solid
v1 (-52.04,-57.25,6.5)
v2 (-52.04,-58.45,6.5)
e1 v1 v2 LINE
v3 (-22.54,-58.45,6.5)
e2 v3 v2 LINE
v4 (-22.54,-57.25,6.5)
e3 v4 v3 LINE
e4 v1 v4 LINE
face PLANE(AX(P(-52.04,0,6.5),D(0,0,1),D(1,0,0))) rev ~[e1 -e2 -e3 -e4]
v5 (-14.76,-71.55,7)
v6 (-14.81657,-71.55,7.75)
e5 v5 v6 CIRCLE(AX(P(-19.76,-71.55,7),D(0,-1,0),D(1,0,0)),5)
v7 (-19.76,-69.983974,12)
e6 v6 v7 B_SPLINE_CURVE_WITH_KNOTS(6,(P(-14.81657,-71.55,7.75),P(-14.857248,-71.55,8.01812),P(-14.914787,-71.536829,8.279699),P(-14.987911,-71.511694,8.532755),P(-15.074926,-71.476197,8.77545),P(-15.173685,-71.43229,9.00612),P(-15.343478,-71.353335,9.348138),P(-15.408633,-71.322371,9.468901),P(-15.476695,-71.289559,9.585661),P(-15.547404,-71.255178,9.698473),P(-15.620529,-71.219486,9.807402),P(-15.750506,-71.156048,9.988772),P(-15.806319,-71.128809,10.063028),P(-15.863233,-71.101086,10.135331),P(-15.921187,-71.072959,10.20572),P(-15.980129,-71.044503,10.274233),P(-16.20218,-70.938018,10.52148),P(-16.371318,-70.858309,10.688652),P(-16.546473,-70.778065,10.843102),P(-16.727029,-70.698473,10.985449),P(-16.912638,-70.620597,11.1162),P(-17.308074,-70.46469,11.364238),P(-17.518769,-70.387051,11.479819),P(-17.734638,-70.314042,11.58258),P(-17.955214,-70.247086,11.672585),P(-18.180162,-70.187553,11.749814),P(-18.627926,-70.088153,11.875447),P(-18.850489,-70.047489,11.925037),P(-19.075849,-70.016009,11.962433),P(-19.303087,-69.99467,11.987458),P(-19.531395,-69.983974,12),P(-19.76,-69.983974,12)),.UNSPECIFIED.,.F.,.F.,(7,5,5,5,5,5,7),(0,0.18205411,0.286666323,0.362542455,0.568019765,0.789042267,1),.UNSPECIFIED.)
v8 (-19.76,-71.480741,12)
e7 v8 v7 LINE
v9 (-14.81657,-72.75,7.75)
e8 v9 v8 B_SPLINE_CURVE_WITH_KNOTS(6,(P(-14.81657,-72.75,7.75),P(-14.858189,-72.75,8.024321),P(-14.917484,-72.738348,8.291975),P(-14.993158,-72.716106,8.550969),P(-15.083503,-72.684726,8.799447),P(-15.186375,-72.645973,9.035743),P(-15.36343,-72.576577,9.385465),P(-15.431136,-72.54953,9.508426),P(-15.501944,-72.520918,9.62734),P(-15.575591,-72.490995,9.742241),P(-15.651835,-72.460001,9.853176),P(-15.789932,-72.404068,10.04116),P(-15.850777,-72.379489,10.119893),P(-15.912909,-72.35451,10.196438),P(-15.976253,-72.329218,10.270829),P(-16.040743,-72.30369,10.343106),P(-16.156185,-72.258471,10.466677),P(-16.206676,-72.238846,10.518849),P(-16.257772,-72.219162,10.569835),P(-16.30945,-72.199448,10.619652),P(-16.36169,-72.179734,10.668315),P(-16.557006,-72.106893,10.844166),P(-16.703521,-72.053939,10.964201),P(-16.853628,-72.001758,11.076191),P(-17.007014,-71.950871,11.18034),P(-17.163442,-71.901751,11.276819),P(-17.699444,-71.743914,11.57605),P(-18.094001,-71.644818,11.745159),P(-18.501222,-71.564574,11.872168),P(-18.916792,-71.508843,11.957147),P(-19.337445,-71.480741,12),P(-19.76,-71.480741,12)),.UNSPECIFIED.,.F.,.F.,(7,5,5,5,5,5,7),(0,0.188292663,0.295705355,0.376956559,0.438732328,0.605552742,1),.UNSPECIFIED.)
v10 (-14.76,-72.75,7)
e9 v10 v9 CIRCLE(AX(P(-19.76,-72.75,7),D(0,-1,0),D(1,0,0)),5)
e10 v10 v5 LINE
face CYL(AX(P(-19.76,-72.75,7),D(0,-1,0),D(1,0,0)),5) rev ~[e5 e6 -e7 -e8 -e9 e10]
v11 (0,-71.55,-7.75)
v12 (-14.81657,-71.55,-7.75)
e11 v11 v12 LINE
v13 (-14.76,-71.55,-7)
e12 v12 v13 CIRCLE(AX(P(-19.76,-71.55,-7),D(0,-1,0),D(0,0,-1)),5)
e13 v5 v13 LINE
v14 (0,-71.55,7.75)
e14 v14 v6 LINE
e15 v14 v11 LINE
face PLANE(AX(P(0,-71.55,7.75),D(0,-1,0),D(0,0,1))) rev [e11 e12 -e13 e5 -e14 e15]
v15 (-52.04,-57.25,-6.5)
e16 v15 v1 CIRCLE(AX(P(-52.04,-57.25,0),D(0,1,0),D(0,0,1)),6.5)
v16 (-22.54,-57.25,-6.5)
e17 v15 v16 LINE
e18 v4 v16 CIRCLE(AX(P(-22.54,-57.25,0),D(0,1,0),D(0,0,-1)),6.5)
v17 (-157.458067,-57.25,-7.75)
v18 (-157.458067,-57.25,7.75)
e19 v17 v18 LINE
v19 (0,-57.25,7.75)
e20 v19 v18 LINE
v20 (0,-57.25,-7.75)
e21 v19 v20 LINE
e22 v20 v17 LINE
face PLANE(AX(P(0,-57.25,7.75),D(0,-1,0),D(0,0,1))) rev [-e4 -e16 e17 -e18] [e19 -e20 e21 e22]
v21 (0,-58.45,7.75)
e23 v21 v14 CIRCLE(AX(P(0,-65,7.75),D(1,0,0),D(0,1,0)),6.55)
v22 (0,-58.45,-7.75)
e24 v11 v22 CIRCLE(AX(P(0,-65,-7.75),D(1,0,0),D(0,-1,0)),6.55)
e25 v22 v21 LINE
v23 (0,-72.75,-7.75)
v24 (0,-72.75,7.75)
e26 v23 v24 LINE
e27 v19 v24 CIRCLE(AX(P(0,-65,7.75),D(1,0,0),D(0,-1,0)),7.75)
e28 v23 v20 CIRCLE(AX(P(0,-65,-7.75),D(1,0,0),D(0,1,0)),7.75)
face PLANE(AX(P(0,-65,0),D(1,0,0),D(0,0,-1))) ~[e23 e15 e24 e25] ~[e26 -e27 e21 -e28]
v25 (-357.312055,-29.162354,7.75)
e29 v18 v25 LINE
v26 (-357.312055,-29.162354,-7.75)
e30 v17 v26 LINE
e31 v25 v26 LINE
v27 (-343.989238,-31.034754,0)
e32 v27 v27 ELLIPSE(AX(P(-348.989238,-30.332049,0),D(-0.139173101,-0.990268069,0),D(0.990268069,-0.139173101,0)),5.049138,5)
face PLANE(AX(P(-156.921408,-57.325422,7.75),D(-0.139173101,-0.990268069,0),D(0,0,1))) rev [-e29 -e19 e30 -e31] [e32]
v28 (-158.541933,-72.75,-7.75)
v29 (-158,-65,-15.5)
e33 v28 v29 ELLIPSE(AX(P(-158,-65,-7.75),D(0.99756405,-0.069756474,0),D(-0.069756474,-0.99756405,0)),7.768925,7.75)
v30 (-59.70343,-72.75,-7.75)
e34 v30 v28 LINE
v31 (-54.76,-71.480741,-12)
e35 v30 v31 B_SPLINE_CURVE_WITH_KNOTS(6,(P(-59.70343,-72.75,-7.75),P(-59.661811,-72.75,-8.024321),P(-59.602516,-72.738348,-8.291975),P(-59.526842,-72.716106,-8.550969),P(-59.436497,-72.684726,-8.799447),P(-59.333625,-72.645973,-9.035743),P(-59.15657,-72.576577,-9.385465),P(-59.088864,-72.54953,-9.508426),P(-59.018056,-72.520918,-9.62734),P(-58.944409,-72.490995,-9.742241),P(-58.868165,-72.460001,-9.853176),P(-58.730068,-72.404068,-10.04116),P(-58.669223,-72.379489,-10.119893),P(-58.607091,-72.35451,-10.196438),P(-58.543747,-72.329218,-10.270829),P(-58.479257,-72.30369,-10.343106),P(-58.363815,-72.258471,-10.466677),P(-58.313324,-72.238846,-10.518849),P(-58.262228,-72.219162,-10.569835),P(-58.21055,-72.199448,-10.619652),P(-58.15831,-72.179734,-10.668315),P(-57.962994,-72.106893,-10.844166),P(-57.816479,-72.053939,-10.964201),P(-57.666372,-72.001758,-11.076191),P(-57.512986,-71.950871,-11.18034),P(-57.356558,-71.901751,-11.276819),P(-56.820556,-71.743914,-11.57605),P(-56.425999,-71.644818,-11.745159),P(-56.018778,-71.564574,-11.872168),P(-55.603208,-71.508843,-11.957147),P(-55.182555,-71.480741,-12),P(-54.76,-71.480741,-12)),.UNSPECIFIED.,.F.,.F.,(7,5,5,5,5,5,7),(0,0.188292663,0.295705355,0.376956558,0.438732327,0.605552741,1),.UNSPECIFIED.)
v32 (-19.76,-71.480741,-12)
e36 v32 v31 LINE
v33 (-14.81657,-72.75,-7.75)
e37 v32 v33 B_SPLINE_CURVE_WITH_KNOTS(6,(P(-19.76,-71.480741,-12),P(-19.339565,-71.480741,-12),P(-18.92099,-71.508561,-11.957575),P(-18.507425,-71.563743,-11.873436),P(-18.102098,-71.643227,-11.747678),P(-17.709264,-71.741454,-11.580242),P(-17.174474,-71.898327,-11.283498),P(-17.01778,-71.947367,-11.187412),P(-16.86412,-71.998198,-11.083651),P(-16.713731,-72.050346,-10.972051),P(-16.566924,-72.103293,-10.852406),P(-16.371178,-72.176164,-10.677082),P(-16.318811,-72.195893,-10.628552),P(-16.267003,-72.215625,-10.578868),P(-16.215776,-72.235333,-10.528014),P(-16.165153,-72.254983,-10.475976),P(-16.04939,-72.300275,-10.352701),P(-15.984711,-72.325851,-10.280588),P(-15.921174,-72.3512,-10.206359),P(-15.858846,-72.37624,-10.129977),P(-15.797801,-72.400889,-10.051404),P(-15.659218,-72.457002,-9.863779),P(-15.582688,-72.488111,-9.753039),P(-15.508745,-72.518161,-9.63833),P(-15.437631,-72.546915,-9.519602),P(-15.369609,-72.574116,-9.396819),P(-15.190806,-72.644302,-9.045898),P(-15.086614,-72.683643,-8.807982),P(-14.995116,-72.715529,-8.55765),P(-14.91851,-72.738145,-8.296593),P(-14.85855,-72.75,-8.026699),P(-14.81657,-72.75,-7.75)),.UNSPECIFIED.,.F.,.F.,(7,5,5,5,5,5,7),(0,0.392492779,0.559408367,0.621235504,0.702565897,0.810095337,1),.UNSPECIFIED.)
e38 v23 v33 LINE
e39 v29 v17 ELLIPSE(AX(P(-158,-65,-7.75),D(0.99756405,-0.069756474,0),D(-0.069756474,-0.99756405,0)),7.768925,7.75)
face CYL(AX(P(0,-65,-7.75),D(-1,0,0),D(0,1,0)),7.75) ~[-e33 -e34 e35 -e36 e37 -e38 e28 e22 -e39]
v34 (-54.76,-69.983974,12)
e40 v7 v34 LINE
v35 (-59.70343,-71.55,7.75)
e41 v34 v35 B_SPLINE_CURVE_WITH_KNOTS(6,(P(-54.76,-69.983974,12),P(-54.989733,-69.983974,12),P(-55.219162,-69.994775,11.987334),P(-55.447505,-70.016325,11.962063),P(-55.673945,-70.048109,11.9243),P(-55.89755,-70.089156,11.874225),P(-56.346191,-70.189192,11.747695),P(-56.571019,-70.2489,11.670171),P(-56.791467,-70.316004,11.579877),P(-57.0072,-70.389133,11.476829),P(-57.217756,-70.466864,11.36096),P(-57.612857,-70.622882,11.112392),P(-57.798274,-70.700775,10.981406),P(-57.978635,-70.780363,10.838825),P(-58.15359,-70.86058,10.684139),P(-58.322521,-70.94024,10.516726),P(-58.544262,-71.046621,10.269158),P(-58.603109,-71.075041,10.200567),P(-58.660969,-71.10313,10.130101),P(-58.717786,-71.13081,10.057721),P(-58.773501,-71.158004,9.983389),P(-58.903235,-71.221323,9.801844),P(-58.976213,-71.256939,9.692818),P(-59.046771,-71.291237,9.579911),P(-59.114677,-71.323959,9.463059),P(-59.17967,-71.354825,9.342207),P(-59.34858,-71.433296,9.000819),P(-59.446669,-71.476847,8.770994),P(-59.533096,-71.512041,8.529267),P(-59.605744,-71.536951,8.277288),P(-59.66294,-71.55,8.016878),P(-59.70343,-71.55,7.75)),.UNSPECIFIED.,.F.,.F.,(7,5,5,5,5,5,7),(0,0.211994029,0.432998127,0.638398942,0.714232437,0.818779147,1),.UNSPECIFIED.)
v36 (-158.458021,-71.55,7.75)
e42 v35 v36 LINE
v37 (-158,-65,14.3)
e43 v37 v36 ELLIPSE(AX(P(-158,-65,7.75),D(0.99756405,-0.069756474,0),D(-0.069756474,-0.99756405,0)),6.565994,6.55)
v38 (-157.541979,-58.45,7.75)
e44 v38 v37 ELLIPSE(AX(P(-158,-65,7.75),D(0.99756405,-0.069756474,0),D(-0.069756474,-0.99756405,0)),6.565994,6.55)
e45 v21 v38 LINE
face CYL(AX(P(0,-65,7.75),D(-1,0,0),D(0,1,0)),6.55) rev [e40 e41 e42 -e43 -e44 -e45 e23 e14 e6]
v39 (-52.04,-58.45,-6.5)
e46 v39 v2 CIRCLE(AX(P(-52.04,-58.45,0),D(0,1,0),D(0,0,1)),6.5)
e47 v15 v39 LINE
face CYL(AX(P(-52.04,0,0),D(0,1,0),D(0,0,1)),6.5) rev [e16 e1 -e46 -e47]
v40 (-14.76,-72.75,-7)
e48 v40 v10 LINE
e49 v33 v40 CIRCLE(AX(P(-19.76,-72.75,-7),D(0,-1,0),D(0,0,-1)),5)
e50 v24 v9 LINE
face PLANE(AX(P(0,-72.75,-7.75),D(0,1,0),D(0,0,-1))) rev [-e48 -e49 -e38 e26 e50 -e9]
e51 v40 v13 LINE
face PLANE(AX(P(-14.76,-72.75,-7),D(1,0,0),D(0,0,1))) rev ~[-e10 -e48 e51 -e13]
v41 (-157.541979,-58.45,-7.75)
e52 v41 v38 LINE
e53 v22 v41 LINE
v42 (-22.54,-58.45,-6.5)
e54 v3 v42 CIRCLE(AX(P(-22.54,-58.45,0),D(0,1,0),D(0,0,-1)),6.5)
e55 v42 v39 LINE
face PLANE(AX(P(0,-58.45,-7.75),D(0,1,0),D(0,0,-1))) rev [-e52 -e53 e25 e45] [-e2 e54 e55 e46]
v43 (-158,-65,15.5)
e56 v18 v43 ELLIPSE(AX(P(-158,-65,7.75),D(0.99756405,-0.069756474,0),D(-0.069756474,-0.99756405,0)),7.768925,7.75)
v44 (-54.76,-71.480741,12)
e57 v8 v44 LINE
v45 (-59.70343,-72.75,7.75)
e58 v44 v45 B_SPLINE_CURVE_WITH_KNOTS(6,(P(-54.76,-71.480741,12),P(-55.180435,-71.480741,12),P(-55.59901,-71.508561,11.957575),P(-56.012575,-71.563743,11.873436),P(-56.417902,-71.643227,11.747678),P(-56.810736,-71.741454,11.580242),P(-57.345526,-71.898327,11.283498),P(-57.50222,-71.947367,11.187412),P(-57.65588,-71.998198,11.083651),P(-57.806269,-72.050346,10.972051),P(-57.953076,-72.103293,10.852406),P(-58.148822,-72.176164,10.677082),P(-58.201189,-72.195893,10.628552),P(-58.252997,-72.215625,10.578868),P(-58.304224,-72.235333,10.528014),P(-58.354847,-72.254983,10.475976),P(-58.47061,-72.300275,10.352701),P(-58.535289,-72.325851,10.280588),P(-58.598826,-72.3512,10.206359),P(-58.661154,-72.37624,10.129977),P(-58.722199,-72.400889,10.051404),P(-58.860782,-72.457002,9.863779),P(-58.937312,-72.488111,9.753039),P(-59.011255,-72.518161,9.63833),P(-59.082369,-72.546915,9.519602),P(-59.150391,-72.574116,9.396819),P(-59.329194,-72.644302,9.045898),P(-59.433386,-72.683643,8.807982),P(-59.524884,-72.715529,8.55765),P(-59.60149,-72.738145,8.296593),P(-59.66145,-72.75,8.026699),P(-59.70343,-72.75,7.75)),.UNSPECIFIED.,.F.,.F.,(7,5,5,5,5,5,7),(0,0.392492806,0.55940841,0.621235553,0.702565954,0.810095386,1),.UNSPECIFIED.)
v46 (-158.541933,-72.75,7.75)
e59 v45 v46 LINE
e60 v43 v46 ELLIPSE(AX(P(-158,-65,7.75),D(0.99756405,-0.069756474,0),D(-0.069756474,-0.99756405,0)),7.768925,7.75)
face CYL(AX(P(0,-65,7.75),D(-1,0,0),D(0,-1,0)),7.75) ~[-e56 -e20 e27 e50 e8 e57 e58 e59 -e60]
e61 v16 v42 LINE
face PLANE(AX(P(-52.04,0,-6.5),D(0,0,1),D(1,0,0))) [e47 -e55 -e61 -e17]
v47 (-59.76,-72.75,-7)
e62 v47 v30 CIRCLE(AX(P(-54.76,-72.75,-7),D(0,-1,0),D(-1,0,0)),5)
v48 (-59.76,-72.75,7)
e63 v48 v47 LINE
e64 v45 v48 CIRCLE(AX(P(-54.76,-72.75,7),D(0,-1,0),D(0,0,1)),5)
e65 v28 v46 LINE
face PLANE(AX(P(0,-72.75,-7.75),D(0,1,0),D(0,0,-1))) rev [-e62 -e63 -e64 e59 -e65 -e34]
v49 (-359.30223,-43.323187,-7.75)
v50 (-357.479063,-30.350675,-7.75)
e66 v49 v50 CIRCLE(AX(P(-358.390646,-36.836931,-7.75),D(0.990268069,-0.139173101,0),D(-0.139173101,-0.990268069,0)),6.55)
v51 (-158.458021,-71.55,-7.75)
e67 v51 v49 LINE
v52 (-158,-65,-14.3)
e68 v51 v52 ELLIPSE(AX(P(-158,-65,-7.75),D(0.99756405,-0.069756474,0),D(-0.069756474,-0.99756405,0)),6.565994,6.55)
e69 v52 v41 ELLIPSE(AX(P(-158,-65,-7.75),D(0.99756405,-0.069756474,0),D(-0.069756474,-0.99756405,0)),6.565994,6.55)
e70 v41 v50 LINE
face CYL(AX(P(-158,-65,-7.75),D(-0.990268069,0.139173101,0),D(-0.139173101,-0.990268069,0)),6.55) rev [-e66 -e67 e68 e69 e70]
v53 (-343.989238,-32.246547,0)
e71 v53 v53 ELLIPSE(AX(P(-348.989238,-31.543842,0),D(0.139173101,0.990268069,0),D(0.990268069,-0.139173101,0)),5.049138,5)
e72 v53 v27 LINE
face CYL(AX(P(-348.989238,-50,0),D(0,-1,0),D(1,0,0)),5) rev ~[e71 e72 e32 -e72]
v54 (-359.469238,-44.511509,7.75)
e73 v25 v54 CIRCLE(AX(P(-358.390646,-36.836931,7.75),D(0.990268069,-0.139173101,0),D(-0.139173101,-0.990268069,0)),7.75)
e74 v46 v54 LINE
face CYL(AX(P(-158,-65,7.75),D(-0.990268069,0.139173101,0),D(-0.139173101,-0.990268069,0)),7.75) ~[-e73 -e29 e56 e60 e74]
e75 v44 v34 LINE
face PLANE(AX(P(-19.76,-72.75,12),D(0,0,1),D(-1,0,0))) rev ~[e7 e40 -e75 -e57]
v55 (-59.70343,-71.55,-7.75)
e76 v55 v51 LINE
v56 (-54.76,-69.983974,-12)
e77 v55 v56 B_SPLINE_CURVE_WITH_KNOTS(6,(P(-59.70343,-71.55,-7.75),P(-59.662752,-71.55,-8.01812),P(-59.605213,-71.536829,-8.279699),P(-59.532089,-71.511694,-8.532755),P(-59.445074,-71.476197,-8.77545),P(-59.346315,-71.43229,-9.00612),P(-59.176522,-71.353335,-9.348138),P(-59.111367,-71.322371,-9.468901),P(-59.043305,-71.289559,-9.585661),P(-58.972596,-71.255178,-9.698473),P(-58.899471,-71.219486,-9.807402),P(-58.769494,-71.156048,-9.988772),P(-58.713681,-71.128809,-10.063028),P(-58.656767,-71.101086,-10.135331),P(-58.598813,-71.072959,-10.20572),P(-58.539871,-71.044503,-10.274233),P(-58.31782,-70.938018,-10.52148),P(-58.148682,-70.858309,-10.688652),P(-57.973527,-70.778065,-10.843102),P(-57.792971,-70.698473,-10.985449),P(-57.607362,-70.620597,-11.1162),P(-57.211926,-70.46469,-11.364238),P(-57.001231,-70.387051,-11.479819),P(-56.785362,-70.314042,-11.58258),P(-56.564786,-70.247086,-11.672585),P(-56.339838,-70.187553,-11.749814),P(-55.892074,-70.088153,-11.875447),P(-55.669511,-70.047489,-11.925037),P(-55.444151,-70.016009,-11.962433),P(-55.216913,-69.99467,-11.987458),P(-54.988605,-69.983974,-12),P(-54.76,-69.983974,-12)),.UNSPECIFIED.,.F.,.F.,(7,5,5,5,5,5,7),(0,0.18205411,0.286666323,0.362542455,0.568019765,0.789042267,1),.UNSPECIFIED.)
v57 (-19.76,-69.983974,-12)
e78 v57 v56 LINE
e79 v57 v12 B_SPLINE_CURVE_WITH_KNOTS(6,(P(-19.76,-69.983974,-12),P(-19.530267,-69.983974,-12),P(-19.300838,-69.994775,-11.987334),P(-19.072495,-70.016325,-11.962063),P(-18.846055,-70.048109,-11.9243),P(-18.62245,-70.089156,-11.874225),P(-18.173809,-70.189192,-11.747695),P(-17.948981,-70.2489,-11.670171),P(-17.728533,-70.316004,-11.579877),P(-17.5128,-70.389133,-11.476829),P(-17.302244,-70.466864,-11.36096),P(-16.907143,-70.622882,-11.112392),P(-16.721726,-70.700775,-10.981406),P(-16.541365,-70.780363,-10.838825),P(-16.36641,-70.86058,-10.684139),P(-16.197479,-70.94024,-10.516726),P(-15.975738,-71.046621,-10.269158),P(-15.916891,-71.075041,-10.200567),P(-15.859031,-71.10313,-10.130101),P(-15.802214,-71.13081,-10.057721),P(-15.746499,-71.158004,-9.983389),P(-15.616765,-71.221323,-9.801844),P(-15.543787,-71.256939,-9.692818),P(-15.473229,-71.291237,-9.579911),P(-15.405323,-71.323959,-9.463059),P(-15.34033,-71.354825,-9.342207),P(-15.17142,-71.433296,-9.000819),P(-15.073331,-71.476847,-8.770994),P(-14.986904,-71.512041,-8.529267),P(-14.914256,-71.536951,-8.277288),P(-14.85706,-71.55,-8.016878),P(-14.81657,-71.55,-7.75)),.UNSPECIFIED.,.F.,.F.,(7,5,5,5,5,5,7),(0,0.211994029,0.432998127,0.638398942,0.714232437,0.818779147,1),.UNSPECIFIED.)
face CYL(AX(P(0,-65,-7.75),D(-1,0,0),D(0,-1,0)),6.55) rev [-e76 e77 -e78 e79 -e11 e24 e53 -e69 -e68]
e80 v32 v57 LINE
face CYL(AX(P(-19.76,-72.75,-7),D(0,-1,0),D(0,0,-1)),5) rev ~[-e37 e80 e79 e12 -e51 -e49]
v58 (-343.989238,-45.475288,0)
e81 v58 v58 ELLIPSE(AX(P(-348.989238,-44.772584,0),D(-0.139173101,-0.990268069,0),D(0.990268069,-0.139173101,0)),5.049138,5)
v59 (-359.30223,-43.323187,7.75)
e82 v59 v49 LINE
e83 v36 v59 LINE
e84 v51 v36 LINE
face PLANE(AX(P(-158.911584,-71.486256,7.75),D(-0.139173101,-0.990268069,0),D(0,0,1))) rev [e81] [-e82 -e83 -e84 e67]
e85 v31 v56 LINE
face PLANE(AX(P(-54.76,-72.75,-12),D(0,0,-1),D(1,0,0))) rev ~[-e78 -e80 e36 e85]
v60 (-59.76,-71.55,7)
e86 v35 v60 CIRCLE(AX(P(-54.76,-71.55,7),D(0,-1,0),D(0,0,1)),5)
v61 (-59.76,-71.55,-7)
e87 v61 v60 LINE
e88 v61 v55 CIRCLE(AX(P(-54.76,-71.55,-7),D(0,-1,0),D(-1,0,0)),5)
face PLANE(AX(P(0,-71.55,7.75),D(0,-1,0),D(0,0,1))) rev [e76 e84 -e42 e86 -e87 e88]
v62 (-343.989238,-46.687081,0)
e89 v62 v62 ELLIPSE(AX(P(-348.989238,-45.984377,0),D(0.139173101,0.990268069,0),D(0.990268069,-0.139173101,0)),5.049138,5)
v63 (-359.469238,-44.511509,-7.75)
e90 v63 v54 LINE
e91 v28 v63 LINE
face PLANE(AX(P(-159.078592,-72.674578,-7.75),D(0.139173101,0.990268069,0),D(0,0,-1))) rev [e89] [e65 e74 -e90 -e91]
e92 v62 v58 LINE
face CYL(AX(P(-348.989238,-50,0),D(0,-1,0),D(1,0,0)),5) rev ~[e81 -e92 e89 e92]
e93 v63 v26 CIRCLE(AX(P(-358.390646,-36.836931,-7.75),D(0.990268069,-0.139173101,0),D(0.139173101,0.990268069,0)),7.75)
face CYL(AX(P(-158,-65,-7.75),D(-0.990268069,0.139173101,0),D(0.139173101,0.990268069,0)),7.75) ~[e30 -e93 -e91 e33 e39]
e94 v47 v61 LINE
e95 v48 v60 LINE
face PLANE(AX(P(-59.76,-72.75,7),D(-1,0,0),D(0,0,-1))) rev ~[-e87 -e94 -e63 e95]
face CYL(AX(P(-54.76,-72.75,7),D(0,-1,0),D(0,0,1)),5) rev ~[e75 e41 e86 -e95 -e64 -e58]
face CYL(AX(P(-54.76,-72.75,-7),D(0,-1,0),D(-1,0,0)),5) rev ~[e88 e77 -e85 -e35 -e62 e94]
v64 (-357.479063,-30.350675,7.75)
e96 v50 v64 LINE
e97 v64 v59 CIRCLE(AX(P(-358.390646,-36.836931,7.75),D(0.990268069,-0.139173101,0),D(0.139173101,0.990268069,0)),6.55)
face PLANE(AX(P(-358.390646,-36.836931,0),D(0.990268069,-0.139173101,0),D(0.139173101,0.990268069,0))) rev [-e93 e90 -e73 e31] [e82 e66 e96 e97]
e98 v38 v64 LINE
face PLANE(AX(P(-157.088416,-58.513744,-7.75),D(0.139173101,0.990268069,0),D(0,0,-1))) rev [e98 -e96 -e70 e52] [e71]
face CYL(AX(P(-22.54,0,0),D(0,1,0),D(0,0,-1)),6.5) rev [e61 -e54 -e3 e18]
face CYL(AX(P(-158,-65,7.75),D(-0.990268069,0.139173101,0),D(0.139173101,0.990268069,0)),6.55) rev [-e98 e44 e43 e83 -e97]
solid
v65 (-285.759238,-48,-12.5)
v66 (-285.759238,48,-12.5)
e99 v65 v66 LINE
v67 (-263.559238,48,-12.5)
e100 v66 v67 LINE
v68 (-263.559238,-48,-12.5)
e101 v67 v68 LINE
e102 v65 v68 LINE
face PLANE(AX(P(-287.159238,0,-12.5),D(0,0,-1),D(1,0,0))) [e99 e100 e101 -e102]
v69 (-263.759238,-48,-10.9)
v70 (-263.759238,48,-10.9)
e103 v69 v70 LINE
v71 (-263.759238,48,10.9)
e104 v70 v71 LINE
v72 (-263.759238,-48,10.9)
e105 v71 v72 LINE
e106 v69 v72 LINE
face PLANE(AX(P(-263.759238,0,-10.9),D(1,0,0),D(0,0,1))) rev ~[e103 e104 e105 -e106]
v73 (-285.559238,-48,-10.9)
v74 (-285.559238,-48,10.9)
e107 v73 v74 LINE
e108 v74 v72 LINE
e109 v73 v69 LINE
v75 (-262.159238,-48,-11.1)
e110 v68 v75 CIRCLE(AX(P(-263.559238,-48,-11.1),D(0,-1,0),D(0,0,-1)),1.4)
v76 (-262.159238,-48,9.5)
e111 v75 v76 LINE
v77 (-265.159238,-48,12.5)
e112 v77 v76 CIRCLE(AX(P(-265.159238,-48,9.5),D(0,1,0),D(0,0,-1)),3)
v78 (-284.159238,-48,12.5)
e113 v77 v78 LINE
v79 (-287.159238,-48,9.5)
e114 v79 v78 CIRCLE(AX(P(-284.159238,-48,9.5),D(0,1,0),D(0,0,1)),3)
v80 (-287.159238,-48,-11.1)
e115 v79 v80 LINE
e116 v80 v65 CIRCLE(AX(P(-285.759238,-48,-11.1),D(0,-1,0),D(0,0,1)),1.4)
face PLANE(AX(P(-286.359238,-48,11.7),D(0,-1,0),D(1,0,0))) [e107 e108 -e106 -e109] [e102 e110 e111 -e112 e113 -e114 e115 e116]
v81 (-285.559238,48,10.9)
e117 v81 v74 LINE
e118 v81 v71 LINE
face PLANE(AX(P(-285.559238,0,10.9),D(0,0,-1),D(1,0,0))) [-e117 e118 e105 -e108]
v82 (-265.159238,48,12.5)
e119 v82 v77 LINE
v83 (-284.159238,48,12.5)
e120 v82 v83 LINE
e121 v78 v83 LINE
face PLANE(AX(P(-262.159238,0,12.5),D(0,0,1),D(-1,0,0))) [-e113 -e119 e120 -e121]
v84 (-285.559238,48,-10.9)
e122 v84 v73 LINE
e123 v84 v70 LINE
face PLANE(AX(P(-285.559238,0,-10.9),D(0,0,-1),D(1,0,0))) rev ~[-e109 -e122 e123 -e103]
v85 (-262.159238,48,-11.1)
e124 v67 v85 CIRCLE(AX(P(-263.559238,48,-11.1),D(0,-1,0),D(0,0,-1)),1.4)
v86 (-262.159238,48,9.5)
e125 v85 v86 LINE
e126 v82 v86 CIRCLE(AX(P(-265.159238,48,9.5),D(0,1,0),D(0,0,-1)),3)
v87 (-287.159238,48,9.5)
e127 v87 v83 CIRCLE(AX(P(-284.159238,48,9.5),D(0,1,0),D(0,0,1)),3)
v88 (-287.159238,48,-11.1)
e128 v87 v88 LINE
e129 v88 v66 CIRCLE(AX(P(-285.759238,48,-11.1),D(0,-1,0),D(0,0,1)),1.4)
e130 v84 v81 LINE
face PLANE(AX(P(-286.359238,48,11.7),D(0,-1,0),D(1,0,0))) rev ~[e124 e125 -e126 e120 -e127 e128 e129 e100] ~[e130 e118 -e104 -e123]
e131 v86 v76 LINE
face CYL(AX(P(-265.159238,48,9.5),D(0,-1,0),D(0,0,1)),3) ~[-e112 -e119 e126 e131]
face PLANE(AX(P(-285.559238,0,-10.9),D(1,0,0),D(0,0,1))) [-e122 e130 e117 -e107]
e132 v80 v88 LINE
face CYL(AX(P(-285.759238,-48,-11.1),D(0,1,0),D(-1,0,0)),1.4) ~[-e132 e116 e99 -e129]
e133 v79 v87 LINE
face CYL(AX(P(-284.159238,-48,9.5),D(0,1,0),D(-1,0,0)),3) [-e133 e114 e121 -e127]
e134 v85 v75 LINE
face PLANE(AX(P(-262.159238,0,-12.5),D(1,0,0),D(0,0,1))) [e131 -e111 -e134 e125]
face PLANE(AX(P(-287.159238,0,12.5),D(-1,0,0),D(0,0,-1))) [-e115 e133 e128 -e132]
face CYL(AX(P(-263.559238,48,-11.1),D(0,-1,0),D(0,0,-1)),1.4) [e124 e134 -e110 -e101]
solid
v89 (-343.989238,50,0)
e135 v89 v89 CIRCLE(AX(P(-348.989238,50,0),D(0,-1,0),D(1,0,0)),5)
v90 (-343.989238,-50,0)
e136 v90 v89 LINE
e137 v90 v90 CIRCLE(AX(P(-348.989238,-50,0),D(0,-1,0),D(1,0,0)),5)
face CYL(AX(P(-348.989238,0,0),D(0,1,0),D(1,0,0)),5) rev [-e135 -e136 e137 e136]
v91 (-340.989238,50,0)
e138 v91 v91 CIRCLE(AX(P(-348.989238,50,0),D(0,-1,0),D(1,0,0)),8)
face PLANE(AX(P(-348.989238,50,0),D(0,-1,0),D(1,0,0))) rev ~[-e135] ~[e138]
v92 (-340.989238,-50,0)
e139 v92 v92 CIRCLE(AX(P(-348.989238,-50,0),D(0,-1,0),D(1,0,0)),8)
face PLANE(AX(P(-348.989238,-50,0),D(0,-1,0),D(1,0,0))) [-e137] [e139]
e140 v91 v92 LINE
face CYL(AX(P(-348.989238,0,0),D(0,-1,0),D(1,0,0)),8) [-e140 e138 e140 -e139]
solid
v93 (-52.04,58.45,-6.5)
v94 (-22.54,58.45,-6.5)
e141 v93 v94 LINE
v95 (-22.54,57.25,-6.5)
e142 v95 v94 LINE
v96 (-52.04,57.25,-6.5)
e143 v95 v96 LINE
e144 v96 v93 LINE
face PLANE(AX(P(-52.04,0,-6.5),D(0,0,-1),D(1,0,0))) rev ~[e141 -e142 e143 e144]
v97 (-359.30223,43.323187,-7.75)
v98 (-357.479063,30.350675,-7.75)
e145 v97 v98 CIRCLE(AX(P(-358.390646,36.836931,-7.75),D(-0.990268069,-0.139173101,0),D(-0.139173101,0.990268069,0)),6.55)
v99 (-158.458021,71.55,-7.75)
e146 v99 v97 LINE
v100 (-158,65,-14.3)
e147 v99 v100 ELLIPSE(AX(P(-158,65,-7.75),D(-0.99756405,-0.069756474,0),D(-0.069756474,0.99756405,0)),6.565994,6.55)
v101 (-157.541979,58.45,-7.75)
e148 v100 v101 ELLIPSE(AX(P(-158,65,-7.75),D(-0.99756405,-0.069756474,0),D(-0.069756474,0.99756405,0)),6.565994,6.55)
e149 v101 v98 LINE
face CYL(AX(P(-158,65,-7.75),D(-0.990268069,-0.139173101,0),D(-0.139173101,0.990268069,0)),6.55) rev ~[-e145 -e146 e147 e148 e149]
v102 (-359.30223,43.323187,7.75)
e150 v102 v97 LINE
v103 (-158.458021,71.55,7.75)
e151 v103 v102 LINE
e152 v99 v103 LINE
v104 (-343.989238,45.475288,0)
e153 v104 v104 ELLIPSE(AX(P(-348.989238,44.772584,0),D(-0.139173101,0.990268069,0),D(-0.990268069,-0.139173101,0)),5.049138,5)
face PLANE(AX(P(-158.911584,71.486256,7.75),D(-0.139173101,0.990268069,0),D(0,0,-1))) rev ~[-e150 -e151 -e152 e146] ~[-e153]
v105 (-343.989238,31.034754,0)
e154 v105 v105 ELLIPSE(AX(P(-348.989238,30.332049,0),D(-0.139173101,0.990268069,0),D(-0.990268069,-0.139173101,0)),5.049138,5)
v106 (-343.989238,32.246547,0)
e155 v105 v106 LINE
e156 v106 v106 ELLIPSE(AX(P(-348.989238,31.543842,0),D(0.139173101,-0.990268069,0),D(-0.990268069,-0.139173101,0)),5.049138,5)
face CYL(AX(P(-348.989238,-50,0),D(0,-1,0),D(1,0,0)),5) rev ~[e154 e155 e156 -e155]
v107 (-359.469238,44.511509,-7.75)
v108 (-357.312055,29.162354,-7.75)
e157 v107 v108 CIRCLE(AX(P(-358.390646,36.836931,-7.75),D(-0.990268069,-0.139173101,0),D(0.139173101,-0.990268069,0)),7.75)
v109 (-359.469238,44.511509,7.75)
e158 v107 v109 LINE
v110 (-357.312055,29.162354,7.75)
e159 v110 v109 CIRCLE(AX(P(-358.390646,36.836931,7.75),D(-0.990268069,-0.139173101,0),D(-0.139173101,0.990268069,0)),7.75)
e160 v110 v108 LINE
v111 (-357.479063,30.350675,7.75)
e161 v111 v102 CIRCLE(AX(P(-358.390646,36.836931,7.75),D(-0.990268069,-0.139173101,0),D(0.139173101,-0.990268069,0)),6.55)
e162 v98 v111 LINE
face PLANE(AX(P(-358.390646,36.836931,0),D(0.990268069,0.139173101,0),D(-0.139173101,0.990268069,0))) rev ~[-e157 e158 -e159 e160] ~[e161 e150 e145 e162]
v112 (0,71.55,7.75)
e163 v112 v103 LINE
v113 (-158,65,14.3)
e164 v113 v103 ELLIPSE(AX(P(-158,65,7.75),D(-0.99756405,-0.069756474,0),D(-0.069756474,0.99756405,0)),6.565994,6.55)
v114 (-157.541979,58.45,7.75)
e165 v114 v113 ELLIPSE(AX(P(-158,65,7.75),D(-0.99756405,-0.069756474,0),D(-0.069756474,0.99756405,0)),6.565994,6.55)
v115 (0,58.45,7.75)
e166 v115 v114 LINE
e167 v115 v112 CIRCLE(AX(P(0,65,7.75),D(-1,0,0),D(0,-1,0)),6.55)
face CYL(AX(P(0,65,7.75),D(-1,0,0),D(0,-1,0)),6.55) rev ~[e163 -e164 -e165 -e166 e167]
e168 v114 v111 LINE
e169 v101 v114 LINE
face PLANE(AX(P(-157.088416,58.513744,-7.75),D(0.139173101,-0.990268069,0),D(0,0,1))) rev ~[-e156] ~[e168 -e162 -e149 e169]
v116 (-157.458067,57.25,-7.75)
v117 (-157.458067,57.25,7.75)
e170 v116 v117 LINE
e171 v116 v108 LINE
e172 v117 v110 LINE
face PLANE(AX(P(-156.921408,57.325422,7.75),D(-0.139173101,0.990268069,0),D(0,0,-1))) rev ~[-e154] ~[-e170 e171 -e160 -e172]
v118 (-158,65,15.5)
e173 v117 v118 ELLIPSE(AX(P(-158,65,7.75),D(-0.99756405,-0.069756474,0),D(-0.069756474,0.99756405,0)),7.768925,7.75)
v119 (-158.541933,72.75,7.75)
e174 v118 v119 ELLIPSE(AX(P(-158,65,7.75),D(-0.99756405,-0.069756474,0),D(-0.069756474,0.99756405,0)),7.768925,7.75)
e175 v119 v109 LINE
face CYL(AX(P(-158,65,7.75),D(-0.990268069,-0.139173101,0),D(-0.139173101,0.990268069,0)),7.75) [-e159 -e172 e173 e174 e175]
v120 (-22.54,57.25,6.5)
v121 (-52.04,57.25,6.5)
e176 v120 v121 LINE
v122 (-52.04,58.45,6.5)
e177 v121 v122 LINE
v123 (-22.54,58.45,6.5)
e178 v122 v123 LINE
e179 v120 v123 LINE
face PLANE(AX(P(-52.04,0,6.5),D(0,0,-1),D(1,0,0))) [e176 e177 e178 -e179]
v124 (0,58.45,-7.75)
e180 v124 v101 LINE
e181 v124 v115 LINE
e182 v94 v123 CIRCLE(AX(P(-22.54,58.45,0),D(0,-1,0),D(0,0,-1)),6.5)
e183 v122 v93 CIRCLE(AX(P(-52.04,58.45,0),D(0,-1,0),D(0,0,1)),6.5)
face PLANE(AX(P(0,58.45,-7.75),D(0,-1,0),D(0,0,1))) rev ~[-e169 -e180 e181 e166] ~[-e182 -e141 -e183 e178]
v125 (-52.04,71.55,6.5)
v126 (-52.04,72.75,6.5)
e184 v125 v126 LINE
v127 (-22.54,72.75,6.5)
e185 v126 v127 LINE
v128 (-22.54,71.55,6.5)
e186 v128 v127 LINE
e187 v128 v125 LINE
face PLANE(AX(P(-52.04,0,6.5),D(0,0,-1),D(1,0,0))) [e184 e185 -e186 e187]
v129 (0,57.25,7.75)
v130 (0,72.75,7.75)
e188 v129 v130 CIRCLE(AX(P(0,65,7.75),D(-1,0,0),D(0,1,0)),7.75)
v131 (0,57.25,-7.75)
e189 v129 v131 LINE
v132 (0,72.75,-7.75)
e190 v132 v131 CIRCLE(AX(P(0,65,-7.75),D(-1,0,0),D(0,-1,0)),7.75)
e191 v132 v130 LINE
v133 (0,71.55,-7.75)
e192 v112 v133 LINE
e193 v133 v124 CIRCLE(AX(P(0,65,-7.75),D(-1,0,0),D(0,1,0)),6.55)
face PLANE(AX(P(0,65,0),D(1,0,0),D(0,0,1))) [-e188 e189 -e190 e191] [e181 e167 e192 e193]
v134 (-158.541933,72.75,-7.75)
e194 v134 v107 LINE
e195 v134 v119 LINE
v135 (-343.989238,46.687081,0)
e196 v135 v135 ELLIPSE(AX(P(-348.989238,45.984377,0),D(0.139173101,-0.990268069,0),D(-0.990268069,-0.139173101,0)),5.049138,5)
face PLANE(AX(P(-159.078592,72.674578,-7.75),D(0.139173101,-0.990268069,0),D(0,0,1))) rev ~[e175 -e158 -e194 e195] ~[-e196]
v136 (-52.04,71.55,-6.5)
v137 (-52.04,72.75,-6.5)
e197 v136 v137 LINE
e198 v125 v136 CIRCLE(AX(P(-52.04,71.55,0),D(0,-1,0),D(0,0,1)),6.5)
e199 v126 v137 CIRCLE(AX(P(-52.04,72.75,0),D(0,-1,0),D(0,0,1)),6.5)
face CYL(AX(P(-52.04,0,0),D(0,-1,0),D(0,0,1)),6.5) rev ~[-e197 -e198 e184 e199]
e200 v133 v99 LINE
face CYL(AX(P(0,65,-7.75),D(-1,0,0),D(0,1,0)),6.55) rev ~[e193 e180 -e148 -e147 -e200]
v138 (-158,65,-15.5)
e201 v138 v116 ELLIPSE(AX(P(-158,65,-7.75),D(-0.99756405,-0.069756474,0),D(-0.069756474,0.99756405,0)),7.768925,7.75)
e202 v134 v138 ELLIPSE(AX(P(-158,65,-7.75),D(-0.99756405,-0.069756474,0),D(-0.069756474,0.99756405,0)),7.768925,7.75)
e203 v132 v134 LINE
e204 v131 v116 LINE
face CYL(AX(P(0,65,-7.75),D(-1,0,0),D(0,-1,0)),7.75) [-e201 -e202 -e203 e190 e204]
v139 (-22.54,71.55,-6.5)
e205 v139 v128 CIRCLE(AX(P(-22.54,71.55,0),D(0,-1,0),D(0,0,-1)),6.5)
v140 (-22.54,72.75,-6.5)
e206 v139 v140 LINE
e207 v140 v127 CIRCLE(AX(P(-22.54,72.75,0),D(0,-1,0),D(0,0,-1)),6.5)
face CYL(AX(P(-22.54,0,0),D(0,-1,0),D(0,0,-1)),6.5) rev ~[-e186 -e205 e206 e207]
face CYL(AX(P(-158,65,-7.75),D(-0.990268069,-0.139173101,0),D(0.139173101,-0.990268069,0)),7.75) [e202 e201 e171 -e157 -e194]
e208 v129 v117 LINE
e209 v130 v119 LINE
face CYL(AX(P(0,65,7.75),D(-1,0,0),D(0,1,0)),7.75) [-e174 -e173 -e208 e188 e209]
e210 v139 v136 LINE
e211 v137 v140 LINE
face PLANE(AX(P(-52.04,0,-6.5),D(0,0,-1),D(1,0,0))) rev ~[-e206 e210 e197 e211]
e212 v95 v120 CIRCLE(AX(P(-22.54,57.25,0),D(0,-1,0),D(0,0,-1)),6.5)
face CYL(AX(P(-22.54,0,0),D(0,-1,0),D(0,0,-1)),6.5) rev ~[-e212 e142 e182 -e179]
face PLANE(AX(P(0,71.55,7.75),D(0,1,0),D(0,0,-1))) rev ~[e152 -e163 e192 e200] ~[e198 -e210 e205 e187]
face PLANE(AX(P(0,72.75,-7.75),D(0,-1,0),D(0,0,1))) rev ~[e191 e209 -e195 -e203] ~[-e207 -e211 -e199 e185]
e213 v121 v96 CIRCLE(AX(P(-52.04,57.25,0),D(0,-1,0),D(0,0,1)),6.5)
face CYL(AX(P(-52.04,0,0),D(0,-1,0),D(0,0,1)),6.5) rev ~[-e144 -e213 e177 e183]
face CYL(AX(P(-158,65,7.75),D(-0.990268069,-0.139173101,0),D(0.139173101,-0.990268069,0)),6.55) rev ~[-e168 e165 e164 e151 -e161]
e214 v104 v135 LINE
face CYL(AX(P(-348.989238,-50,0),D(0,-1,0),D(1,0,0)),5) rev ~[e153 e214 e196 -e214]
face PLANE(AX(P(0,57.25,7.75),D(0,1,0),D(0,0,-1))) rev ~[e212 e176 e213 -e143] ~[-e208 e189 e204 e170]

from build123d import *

# Parameters (mm, degrees)
F4_W      = 29.5
F4_H      = 13
F5_DEPTH  = 99
F6_DEPTH  = 86
F7_R      = 8
F7_R_2    = 5
F8_DEPTH  = 50
F9_W      = 1.6
F9_H      = 1.6
F9_W_2    = 21.8
F9_H_2    = 21.8
F10_DEPTH = 48
F11_R     = 3
F12_R     = 1.4
F15_DEPTH = 8
F16_R     = 5
F17_DEPTH = 122.751
F18_DEPTH = 10


with BuildPart() as f2:
    # F2: sweep along a path in F0
    with BuildLine(Plane.XY) as f2_path:
        Line((0, 65), (-158, 65))
        Line((-158, 65), (-358.3906463905, 36.8369312897))
    # F1 (on Right) → F2 (sweep)
    with BuildSketch(Plane.YZ):
        with BuildLine():
            ThreePointArc((72.75, 7.75), (65, 15.5), (57.25, 7.75))
            Line((57.25, 7.75), (57.25, -7.75))
            ThreePointArc((57.25, -7.75), (65, -15.5), (72.75, -7.75))
            Line((72.75, -7.75), (72.75, 7.75))
        make_face()
        with BuildLine():
            ThreePointArc((58.45, 7.75), (65, 14.3), (71.55, 7.75))
            Line((71.55, 7.75), (71.55, -7.75))
            ThreePointArc((71.55, -7.75), (65, -14.3), (58.45, -7.75))
            Line((58.45, -7.75), (58.45, 7.75))
        make_face(mode=Mode.SUBTRACT)
    sweep(path=f2_path.line, transition=Transition.RIGHT)


with BuildPart() as f3_1:
    # F3: instance of F2
    add(f2.part.mirror(Plane.XZ))

    # F4 (on Front) → F5 (cut)
    with BuildSketch(Plane.XZ):
        with Locations((-37.29, 0)):
            Rectangle(F4_W, F4_H)
        with BuildLine():
            Line((-52.04, -6.5), (-52.04, 6.5))
            ThreePointArc((-52.04, 6.5), (-58.54, 0), (-52.04, -6.5))
        make_face()
        with BuildLine():
            ThreePointArc((-22.54, -6.5), (-16.04, 0), (-22.54, 6.5))
            Line((-22.54, 6.5), (-22.54, -6.5))
        make_face()
    extrude(amount=F5_DEPTH, mode=Mode.SUBTRACT)

    # F14 (on face) → F15 (cut)
    with BuildSketch(Plane.XZ.offset(72.75)):
        with BuildLine():
            ThreePointArc((-14.76, 7), (-16.2244660941, 10.5355339059), (-19.76, 12))
            Line((-19.76, 12), (-54.76, 12))
            ThreePointArc((-54.76, 12), (-58.2955339059, 10.5355339059), (-59.76, 7))
            Line((-59.76, 7), (-59.76, -7))
            ThreePointArc((-59.76, -7), (-58.2955339059, -10.5355339059), (-54.76, -12))
            Line((-54.76, -12), (-19.76, -12))
            ThreePointArc((-19.76, -12), (-16.2244660941, -10.5355339059), (-14.76, -7))
            Line((-14.76, -7), (-14.76, 7))
        make_face()
    extrude(amount=-F15_DEPTH, mode=Mode.SUBTRACT)


with BuildPart() as f2_1:
    add(f2.part)

    # F4 (on Front) → F6 (cut)
    with BuildSketch(Plane.XZ):
        with Locations((-37.29, 0)):
            Rectangle(F4_W, F4_H)
        with BuildLine():
            Line((-52.04, -6.5), (-52.04, 6.5))
            ThreePointArc((-52.04, 6.5), (-58.54, 0), (-52.04, -6.5))
        make_face()
        with BuildLine():
            ThreePointArc((-22.54, -6.5), (-16.04, 0), (-22.54, 6.5))
            Line((-22.54, 6.5), (-22.54, -6.5))
        make_face()
    extrude(amount=-F6_DEPTH, mode=Mode.SUBTRACT)


with BuildPart() as f8:
    # F7 (on Front) → F8 (new body, symmetric)
    with BuildSketch(Plane.XZ):
        with Locations((-348.989237923, 0)):
            Circle(F7_R)
        with Locations((-348.989237923, 0)):
            Circle(F7_R_2, mode=Mode.SUBTRACT)
    extrude(amount=F8_DEPTH, both=True)


with BuildPart() as f10:
    # F9 (on Front) → F10 (new body, symmetric)
    with BuildSketch(Plane.XZ):
        with Locations((-286.359237923, 11.7)):
            Rectangle(F9_W, F9_H)
        with Locations((-274.659237923, 11.7)):
            Rectangle(F9_W_2, F9_H)
        with Locations((-286.359237923, 0)):
            Rectangle(F9_W, F9_H_2)
        with Locations((-262.959237923, 11.7)):
            Rectangle(F9_W, F9_H)
        with Locations((-286.359237923, -11.7)):
            Rectangle(F9_W, F9_H)
        with Locations((-262.959237923, 0)):
            Rectangle(F9_W, F9_H_2)
        with Locations((-274.659237923, -11.7)):
            Rectangle(F9_W_2, F9_H)
        with Locations((-262.959237923, -11.7)):
            Rectangle(F9_W, F9_H)
    extrude(amount=F10_DEPTH, both=True)

    # F11
    f11_edges = [f10.edges().sort_by_distance(p)[0] for p in [
        (-262.159238, 0, 12.5),
        (-287.159238, 0, 12.5),
    ]]
    fillet(f11_edges, radius=F11_R)

    # F12
    f12_edges = [f10.edges().sort_by_distance(p)[0] for p in [
        (-262.159238, 0, -12.5),
        (-287.159238, 0, -12.5),
    ]]
    fillet(f12_edges, radius=F12_R)


with BuildPart() as f17_tool:
    # F16 (on face) → F17 (new body, through all)
    with BuildSketch(Plane.XZ.offset(50)):
        with Locations((-348.989237923, 0)):
            Circle(F16_R)
    extrude(amount=-F17_DEPTH)


with BuildPart() as f2_2:
    add(f2_1.part)

    # F17: cut by f17_tool
    add(f17_tool.part, mode=Mode.SUBTRACT)

    # F14 (on face) → F18 (cut)
    with BuildSketch(Plane.XZ.offset(72.75)):
        with BuildLine():
            ThreePointArc((-14.76, 7), (-16.2244660941, 10.5355339059), (-19.76, 12))
            Line((-19.76, 12), (-54.76, 12))
            ThreePointArc((-54.76, 12), (-58.2955339059, 10.5355339059), (-59.76, 7))
            Line((-59.76, 7), (-59.76, -7))
            ThreePointArc((-59.76, -7), (-58.2955339059, -10.5355339059), (-54.76, -12))
            Line((-54.76, -12), (-19.76, -12))
            ThreePointArc((-19.76, -12), (-16.2244660941, -10.5355339059), (-14.76, -7))
            Line((-14.76, -7), (-14.76, 7))
        make_face()
    extrude(amount=-F18_DEPTH, mode=Mode.SUBTRACT)


with BuildPart() as f3_1_1:
    add(f3_1.part)

    # F17: cut by f17_tool
    add(f17_tool.part, mode=Mode.SUBTRACT)


solid = Compound([f8.part, f10.part, f2_2.part, f3_1_1.part])
